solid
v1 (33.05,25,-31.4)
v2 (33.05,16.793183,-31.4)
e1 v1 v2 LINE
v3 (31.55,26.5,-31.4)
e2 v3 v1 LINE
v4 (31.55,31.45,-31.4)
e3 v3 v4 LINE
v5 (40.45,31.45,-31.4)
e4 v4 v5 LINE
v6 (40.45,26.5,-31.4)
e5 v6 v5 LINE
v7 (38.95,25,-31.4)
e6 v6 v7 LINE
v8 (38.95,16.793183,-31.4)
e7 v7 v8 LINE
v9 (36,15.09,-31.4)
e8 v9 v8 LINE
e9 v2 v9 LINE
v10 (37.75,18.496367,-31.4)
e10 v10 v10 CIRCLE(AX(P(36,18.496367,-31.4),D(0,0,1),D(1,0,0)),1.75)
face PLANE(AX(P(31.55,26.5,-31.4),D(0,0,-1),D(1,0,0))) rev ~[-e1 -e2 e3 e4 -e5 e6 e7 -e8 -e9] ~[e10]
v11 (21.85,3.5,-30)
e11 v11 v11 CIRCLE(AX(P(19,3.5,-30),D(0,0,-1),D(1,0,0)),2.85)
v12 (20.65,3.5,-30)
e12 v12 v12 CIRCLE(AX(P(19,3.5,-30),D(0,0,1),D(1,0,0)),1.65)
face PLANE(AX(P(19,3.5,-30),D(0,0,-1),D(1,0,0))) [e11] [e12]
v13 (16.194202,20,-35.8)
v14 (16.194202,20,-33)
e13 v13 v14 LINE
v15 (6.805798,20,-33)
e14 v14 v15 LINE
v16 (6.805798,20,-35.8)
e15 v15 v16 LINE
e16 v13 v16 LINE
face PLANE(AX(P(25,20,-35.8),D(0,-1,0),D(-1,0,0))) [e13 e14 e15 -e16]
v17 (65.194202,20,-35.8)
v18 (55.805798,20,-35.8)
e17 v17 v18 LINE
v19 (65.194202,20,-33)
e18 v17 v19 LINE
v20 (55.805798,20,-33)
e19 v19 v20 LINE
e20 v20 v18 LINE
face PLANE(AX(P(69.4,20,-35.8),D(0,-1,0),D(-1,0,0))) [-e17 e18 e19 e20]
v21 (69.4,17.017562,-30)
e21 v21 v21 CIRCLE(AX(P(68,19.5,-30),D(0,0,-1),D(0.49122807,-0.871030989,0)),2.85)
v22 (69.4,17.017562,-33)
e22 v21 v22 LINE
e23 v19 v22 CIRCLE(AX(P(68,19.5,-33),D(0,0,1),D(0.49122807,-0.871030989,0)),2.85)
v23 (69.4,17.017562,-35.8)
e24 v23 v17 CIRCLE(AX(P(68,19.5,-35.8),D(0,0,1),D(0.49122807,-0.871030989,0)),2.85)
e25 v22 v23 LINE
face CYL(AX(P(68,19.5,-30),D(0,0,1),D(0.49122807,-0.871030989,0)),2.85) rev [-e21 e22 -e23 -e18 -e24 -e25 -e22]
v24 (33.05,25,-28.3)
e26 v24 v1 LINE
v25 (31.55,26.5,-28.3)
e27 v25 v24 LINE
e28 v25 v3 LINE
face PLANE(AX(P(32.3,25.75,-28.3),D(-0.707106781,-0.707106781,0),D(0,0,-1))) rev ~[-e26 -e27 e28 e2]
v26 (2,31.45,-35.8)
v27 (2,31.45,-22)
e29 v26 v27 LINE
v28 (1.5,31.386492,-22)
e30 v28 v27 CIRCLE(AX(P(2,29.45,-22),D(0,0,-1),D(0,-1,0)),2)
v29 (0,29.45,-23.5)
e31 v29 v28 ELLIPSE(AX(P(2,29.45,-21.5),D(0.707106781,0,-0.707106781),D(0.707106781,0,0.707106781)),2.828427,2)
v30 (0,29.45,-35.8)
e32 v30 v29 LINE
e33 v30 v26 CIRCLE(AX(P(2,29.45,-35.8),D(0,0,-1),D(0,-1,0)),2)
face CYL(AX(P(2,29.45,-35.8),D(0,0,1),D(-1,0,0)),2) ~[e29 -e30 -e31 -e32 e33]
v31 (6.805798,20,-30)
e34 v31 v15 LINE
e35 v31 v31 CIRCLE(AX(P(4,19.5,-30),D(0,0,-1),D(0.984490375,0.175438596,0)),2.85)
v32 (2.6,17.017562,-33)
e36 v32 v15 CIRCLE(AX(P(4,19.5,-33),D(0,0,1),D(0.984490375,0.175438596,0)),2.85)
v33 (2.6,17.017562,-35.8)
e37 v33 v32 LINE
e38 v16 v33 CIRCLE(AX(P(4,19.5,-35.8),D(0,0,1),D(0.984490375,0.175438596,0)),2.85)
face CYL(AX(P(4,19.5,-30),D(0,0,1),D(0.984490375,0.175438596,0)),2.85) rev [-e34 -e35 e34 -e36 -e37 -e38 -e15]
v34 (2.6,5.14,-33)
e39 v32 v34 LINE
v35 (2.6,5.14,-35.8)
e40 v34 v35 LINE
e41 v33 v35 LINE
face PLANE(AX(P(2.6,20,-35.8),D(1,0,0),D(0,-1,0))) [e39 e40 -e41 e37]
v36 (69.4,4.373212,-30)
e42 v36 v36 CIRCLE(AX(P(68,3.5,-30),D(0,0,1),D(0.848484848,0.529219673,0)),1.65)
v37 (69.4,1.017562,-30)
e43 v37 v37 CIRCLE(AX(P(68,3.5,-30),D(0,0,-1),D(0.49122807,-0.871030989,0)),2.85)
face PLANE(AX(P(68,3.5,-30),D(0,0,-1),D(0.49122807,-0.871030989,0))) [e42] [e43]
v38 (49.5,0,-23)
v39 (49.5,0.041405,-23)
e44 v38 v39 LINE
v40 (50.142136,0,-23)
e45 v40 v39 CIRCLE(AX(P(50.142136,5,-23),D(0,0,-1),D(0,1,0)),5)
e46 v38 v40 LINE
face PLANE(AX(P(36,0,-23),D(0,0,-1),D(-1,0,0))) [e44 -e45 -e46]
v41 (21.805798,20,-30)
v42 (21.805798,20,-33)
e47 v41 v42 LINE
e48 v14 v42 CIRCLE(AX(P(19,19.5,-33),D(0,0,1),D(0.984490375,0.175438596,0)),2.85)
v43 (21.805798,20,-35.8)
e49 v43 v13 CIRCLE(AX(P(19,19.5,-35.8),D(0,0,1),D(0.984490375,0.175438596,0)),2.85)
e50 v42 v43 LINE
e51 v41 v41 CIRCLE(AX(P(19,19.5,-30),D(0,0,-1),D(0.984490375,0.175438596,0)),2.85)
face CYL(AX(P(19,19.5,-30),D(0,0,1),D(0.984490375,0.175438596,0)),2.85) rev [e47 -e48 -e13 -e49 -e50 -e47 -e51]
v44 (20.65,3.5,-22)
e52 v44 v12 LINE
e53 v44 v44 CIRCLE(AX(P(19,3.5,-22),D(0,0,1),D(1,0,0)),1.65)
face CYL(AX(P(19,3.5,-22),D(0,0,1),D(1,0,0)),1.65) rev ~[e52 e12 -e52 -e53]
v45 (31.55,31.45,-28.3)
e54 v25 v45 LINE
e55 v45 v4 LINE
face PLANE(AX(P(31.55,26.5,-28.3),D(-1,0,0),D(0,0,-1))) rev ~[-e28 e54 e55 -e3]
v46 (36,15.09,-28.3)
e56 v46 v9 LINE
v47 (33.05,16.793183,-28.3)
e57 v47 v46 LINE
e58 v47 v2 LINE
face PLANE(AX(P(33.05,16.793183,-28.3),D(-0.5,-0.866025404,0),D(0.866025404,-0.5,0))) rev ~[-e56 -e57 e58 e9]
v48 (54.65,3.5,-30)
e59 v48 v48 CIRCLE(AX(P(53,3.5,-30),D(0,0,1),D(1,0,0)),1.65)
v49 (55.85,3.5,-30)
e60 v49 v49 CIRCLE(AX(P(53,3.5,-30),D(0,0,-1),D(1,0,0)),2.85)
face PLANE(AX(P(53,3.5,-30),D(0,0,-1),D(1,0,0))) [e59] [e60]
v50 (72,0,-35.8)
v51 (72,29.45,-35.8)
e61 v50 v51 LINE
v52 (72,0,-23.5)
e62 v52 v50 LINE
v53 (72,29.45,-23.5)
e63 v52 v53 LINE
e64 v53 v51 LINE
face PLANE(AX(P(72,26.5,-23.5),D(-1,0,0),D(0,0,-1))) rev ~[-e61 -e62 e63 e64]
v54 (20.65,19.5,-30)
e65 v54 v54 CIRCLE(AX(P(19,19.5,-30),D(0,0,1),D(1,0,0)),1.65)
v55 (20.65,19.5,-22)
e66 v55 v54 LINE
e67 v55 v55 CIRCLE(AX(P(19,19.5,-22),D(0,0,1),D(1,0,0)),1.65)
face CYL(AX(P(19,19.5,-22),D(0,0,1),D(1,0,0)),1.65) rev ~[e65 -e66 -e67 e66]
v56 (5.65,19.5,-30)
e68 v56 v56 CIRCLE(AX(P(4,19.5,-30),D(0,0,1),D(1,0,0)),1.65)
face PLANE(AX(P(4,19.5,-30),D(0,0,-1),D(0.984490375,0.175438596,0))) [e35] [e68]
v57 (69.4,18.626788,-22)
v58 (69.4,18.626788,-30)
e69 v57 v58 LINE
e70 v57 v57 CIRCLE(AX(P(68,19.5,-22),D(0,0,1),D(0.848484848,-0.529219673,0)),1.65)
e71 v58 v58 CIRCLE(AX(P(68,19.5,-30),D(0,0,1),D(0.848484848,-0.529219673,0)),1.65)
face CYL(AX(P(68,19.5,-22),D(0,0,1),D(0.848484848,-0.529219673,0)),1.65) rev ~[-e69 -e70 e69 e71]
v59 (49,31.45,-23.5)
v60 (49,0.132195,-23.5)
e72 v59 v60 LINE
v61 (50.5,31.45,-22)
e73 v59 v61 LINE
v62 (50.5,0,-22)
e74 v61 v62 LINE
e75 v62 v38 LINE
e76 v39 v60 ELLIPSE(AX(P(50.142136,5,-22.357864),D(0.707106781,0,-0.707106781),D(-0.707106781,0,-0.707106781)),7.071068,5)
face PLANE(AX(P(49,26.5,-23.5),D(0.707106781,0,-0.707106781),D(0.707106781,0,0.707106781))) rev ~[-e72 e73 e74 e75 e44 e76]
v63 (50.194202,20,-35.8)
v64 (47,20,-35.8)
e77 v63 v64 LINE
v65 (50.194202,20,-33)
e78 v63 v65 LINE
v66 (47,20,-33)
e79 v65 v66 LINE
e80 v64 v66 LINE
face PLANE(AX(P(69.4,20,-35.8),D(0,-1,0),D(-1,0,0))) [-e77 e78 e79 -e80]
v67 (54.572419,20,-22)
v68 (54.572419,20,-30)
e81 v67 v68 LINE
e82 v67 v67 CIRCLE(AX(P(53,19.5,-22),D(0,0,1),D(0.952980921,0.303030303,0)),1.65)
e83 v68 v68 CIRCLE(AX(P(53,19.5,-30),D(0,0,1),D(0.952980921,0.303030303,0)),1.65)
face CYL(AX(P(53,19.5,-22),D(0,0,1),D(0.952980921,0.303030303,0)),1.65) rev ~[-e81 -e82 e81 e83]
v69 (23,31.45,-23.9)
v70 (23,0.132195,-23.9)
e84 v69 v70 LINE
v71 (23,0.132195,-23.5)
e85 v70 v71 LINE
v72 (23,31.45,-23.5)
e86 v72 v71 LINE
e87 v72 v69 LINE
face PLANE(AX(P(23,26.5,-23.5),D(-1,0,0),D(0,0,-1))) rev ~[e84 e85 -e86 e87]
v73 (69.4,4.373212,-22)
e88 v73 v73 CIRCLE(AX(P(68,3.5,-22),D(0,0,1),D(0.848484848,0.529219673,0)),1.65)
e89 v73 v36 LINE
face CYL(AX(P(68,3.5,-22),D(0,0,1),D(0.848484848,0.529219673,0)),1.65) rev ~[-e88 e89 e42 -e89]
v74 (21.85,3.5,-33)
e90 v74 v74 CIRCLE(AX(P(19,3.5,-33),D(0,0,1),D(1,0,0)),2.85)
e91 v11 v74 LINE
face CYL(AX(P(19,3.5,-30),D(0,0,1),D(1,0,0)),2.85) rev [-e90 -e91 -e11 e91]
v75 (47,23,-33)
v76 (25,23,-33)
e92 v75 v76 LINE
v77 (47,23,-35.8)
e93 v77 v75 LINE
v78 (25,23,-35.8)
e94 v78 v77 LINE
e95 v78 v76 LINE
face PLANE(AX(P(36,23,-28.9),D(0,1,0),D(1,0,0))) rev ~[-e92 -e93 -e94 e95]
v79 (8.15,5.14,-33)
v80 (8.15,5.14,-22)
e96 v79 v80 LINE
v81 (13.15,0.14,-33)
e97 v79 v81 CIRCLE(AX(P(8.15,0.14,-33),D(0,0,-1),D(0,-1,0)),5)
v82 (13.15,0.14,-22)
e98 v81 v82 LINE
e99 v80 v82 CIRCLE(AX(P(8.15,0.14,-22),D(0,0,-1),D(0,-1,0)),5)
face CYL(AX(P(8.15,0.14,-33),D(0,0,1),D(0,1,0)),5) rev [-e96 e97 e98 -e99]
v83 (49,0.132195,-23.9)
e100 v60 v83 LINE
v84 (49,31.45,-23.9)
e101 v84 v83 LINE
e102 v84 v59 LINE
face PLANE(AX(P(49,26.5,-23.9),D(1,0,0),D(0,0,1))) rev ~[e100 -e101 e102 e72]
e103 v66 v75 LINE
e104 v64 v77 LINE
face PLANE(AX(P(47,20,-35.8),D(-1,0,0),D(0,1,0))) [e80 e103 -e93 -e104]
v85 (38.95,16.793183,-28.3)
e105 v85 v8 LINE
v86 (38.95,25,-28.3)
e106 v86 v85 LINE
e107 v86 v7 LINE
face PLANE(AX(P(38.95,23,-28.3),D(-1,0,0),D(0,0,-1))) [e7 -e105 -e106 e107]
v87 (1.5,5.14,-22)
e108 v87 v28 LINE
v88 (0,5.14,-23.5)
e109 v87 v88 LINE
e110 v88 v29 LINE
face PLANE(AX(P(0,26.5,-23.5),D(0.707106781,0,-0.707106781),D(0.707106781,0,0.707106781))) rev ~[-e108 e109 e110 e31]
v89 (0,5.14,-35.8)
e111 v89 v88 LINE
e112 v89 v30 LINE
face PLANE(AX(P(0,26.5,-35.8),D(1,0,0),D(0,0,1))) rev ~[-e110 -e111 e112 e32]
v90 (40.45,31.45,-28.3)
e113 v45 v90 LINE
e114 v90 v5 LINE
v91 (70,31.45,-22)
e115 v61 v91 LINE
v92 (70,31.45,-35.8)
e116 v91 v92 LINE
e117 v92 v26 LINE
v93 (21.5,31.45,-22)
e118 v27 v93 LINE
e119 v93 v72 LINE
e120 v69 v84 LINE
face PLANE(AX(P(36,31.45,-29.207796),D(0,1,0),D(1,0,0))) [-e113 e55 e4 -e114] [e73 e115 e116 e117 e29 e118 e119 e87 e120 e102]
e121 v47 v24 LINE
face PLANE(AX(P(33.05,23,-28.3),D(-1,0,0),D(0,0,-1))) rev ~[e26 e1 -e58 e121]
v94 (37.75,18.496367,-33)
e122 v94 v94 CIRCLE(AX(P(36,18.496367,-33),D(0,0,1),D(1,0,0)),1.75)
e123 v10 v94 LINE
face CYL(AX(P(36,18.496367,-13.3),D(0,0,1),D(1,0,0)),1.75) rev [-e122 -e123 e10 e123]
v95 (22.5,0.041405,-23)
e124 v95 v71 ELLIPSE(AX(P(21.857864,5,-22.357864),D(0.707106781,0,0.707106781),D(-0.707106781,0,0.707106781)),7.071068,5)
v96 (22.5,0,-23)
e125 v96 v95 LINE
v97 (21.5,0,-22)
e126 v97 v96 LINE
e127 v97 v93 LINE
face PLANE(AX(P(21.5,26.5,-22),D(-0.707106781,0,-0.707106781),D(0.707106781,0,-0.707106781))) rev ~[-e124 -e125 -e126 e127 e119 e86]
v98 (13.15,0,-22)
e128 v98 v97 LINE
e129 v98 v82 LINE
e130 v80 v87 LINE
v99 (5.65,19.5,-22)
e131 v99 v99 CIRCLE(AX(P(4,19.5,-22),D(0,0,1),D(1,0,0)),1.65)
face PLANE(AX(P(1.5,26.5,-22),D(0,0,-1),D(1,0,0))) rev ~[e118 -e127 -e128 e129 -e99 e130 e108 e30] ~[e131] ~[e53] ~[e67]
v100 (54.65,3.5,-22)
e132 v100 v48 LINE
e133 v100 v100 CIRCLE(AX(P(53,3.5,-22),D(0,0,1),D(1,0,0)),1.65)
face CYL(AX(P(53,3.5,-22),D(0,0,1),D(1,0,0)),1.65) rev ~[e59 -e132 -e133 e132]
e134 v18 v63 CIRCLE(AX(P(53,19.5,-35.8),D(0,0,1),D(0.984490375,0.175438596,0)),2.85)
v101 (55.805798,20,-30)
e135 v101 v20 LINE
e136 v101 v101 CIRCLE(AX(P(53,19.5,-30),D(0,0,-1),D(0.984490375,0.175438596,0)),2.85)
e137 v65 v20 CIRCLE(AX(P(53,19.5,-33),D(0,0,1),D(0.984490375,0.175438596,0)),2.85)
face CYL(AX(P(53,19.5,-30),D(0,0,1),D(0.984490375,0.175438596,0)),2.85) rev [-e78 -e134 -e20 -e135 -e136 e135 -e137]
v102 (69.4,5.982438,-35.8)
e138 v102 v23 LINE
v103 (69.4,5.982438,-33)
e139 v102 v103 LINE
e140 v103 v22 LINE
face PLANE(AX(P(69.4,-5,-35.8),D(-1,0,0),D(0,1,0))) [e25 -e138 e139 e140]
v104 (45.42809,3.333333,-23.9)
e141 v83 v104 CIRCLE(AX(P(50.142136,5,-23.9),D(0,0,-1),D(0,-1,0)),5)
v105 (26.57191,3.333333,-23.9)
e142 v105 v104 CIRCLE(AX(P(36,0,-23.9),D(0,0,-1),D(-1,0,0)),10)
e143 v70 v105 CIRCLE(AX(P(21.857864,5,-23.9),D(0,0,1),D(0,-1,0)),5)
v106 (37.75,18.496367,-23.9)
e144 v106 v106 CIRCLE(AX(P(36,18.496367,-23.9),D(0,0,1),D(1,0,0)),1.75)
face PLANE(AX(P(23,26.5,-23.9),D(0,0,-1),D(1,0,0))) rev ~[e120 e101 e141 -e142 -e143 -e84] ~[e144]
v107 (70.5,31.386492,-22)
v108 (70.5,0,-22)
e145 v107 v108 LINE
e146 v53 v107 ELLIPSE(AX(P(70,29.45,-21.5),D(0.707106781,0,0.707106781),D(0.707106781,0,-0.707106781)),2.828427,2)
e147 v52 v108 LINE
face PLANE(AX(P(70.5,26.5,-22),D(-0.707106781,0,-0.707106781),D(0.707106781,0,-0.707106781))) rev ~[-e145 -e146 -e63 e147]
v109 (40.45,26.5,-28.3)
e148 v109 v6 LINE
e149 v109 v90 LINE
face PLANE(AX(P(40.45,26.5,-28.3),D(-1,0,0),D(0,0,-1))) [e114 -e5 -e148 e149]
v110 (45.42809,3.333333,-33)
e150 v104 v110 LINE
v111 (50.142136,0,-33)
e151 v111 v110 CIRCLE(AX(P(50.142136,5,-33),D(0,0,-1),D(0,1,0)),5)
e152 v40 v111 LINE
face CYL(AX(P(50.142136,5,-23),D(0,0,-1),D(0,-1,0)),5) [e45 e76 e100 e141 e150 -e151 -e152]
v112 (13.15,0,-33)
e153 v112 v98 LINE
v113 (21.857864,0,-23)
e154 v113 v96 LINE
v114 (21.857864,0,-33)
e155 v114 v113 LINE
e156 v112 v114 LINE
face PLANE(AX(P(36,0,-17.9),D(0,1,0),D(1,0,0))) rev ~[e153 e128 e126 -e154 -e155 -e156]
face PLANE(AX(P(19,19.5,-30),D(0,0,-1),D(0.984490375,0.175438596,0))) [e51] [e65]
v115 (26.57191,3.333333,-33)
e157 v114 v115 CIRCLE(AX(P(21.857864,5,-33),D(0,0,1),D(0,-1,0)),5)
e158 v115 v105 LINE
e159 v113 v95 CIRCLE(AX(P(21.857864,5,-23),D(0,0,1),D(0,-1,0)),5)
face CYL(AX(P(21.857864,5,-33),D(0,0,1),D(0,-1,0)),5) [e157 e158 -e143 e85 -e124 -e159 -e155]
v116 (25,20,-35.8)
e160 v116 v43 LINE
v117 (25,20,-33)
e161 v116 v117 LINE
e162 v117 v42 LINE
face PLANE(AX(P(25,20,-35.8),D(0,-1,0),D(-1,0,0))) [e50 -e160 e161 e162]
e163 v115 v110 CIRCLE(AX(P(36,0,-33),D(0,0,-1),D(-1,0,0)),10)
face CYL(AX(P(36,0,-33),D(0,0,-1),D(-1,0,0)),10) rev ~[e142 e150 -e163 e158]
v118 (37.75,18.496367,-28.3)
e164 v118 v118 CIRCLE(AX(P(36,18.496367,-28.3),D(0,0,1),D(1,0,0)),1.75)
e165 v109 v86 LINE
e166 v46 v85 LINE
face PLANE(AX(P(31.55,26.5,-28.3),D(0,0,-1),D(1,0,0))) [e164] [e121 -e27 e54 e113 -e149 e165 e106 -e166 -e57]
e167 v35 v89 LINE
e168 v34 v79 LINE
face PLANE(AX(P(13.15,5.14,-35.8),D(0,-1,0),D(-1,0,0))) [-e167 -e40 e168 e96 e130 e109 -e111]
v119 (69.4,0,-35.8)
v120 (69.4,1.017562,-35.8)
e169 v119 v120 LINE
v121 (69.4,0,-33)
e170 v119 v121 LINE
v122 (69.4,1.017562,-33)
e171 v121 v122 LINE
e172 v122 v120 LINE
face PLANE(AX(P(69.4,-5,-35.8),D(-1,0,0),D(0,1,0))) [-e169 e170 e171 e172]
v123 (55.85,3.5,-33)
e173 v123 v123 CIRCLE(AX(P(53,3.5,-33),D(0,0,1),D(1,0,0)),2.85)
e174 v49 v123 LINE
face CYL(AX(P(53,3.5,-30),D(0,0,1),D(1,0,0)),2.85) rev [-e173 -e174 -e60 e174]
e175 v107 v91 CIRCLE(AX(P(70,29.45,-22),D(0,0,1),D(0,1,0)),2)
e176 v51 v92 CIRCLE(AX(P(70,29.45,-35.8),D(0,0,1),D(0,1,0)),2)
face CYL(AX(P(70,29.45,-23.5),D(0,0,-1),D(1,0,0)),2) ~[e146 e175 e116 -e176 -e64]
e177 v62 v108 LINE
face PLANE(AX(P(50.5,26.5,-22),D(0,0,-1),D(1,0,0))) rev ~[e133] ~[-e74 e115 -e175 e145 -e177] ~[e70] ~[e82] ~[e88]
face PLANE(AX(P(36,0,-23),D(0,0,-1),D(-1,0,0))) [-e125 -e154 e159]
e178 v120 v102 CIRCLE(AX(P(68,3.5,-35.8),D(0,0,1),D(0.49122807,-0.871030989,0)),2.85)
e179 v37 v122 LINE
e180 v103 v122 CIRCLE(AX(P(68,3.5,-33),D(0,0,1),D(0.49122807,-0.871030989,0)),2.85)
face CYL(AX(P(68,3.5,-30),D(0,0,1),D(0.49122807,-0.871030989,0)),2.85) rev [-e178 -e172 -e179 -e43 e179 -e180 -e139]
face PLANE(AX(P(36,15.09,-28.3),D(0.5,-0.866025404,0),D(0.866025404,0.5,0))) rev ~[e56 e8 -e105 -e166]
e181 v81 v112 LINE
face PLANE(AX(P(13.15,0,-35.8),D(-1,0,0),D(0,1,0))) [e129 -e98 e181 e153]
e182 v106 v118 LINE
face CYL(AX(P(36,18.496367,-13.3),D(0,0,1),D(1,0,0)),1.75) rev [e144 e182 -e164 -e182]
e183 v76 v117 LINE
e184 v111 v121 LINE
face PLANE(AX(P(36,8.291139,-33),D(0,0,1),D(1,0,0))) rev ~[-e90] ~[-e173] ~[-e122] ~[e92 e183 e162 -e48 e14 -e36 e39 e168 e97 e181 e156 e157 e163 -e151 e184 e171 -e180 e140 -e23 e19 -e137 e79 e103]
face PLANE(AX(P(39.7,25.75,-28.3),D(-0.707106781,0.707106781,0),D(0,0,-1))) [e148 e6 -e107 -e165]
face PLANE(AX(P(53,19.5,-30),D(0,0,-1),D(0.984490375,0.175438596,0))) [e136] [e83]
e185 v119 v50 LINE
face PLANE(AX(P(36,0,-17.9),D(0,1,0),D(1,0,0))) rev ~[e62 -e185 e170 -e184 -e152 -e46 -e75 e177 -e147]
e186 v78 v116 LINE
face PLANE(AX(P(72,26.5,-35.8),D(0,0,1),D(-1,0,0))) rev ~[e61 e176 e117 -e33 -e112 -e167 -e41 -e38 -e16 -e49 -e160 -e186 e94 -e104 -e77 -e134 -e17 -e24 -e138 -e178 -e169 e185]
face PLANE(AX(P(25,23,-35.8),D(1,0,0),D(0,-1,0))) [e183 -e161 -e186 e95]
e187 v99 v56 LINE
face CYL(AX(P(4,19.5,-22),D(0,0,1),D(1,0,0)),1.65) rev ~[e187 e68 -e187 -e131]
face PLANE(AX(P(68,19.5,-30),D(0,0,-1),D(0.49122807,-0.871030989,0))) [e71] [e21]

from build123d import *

# Parameters (mm, degrees)
CROQUIS1_W                  = 72
CROQUIS1_H                  = 35.8
SALIENTE_EXTRUIR1_DEPTH     = 23
CORTAR_EXTRUIR2_DEPTH       = 2.8
CROQUIS3_W                  = 5.9
CROQUIS3_H                  = 3.1
CORTAR_EXTRUIR3_DEPTH       = 7.91
SALIENTE_EXTRUIR3_DEPTH     = 3.1
CROQUIS7_W                  = 72
CROQUIS7_H                  = 22
CORTAR_EXTRUIR6_DEPTH       = 37.91
CORTAR_EXTRUIR8_DEPTH       = 15
CORTAR_EXTRUIR8_DEPTH_BACK  = 15
CROQUIS9_R                  = 1.75
CROQUIS11_R                 = 10
CORTAR_EXTRUIR10_DEPTH      = 10
REDONDEO1_R                 = 5
CROQUIS12_W                 = 72
CROQUIS12_H                 = 13.8
CROQUIS12_W_2               = 5.9
CROQUIS12_H_2               = 3.1
SALIENTE_EXTRUIR4_DEPTH     = 3.5
CROQUIS13_R                 = 1.65
CORTAR_EXTRUIR11_DEPTH      = 33.5
CORTAR_EXTRUIR12_DEPTH      = 33.5
CORTAR_EXTRUIR12_DEPTH_BACK = 3
CROQUIS14_R                 = 2.85
CROQUIS15_W                 = 26
CROQUIS15_H                 = 1.9
CORTAR_EXTRUIR13_DEPTH      = 43
CHAFL_N1_SIZE               = 1.5
CHAFL_N2_SIZE               = 1.5
CROQUIS16_W                 = 13.15
CROQUIS16_H                 = 5.14
CORTAR_EXTRUIR14_DEPTH      = 20
REDONDEO3_R                 = 5
CROQUIS17_W                 = 8.9
CROQUIS17_H                 = 3.1
SALIENTE_EXTRUIR5_DEPTH     = 4.95
REDONDEO4_R                 = 2


with BuildPart() as part:
    # Croquis1 → Saliente-Extruir1 (new body)
    with BuildSketch(Plane(origin=(0, 0, 0), x_dir=(1, 0, 0), z_dir=(0, 1, 0))):
        with Locations((36, 17.9)):
            Rectangle(CROQUIS1_W, CROQUIS1_H)
    extrude(amount=SALIENTE_EXTRUIR1_DEPTH)

    # Croquis2 → Cortar-Extruir2 (cut)
    with BuildSketch(Plane(origin=(0, 0, -35.8), x_dir=(-1, 0, 0), z_dir=(0, 0, -1))):
        Polygon((-69.4, 20), (-47, 20), (-47, 23), (-25, 23), (-25, 20), (-2.6, 20), (-2.6, -5), (-69.4, -5), align=None)
    extrude(amount=-CORTAR_EXTRUIR2_DEPTH, mode=Mode.SUBTRACT)

    # Croquis3 → Cortar-Extruir3 (cut)
    with BuildSketch(Plane(origin=(0, 23, 0), x_dir=(1, 0, 0), z_dir=(0, 1, 0))):
        with Locations((36, 29.85)):
            Rectangle(CROQUIS3_W, CROQUIS3_H)
    extrude(amount=-CORTAR_EXTRUIR3_DEPTH, mode=Mode.SUBTRACT)

    # Croquis4 → Saliente-Extruir3 (add)
    with BuildSketch(Plane(origin=(0, 0, -28.3), x_dir=(-1, 0, 0), z_dir=(0, 0, -1))):
        Polygon((-33.05, 16.793183294), (-36, 15.09), (-33.05, 15.09), align=None)
        Polygon((-36, 15.09), (-38.95, 16.793183294), (-38.95, 15.09), align=None)
    extrude(amount=SALIENTE_EXTRUIR3_DEPTH)

    # Croquis7 → Cortar-Extruir6 (cut)
    with BuildSketch(Plane(origin=(0, 23, 0), x_dir=(1, 0, 0), z_dir=(0, 1, 0))):
        with Locations((36, 11)):
            Rectangle(CROQUIS7_W, CROQUIS7_H)
    extrude(amount=-CORTAR_EXTRUIR6_DEPTH, mode=Mode.SUBTRACT)

    # Croquis9 → Cortar-Extruir8 (cut, two sides: drawn at the far end of the back side and taken through both)
    with BuildSketch(Plane(origin=(0, 0, -28.3), x_dir=(-1, 0, 0), z_dir=(0, 0, -1)).offset(-CORTAR_EXTRUIR8_DEPTH_BACK)):
        with Locations(Location((-36, 18.496366588, 0), (0, 0, 180))):
            Circle(CROQUIS9_R)
    extrude(amount=CORTAR_EXTRUIR8_DEPTH + CORTAR_EXTRUIR8_DEPTH_BACK, mode=Mode.SUBTRACT)

    # Croquis11 → Cortar-Extruir10 (cut)
    with BuildSketch(Plane(origin=(0, 0, -33), x_dir=(-1, 0, 0), z_dir=(0, 0, -1))):
        with Locations((-36, 0)):
            Circle(CROQUIS11_R)
    extrude(amount=-CORTAR_EXTRUIR10_DEPTH, mode=Mode.SUBTRACT)

    # Redondeo1
    redondeo1_edges = [part.edges().sort_by_distance(p)[0] for p in [
        (26, 0, -28),
        (46, 0, -28),
    ]]
    fillet(redondeo1_edges, radius=REDONDEO1_R)

    # Croquis12 → Saliente-Extruir4 (add)
    with BuildSketch(Plane(origin=(0, 23, 0), x_dir=(1, 0, 0), z_dir=(0, 1, 0))):
        with Locations((36, 28.9)):
            Rectangle(CROQUIS12_W, CROQUIS12_H)
        with Locations((36, 29.85)):
            Rectangle(CROQUIS12_W_2, CROQUIS12_H_2, mode=Mode.SUBTRACT)
    extrude(amount=SALIENTE_EXTRUIR4_DEPTH)

    # Croquis13 → Cortar-Extruir11 (cut)
    with BuildSketch(Plane.XY.offset(-22)):
        with Locations((19, 3.5)):
            Circle(CROQUIS13_R)
        with Locations((19, 19.5)):
            Circle(CROQUIS13_R)
        with Locations((4, 19.5)):
            Circle(CROQUIS13_R)
        with Locations((53, 3.5)):
            Circle(CROQUIS13_R)
        with Locations(Location((68, 3.5, 0), (0, 0, 31.9527464))):
            Circle(CROQUIS13_R)
        with Locations(Location((68, 19.5, 0), (0, 0, 328.0472536))):
            Circle(CROQUIS13_R)
        with Locations(Location((53, 19.5, 0), (0, 0, 17.639701394))):
            Circle(CROQUIS13_R)
    extrude(amount=-CORTAR_EXTRUIR11_DEPTH, mode=Mode.SUBTRACT)

    # Croquis14 → Cortar-Extruir12 (cut, two sides: drawn at the far end of the back side and taken through both)
    with BuildSketch(Plane(origin=(0, 0, -33), x_dir=(-1, 0, 0), z_dir=(0, 0, -1)).offset(-CORTAR_EXTRUIR12_DEPTH_BACK)):
        with Locations(Location((-53, 19.5, 0), (0, 0, 169.895817284))):
            Circle(CROQUIS14_R)
        with Locations(Location((-53, 3.5, 0), (0, 0, 180))):
            Circle(CROQUIS14_R)
        with Locations(Location((-68, 3.5, 0), (0, 0, 240.578668933))):
            Circle(CROQUIS14_R)
        with Locations(Location((-68, 19.5, 0), (0, 0, 240.578668933))):
            Circle(CROQUIS14_R)
        with Locations(Location((-19, 3.5, 0), (0, 0, 180))):
            Circle(CROQUIS14_R)
        with Locations(Location((-19, 19.5, 0), (0, 0, 169.895817284))):
            Circle(CROQUIS14_R)
        with Locations(Location((-4, 19.5, 0), (0, 0, 169.895817284))):
            Circle(CROQUIS14_R)
    extrude(amount=CORTAR_EXTRUIR12_DEPTH + CORTAR_EXTRUIR12_DEPTH_BACK, mode=Mode.SUBTRACT)

    # Croquis15 → Cortar-Extruir13 (cut)
    with BuildSketch(Plane(origin=(0, 26.5, 0), x_dir=(1, 0, 0), z_dir=(0, 1, 0))):
        with Locations((36, 22.95)):
            Rectangle(CROQUIS15_W, CROQUIS15_H)
    extrude(amount=-CORTAR_EXTRUIR13_DEPTH, mode=Mode.SUBTRACT)

    # Chaflán1
    chafl_n1_edges = [part.edges().sort_by_distance(p)[0] for p in [
        (49, 13.25, -22),
        (23, 13.25, -22),
        (72, 13.25, -22),
        (0, 13.25, -22),
    ]]
    chamfer(chafl_n1_edges, length=CHAFL_N1_SIZE)

    # Chaflán2
    chafl_n2_edges = [part.edges().sort_by_distance(p)[0] for p in [
        (33.05, 26.5, -29.85),
        (38.95, 26.5, -29.85),
    ]]
    chamfer(chafl_n2_edges, length=CHAFL_N2_SIZE)

    # Croquis16 → Cortar-Extruir14 (cut)
    with BuildSketch(Plane(origin=(0, 0, -35.8), x_dir=(-1, 0, 0), z_dir=(0, 0, -1))):
        with Locations((-6.575, 2.57)):
            Rectangle(CROQUIS16_W, CROQUIS16_H)
    extrude(amount=-CORTAR_EXTRUIR14_DEPTH, mode=Mode.SUBTRACT)

    # Redondeo3
    redondeo3_edges = [part.edges().sort_by_distance(p)[0] for p in [
        (13.15, 5.14, -27.5),
    ]]
    fillet(redondeo3_edges, radius=REDONDEO3_R)

    # Croquis17 → Saliente-Extruir5 (add)
    with BuildSketch(Plane(origin=(0, 26.5, 0), x_dir=(1, 0, 0), z_dir=(0, 1, 0))):
        Polygon((70.5, 22), (72, 23.5), (72, 35.8), (0, 35.8), (0, 23.5), (1.5, 22), (21.5, 22), (23, 23.5), (23, 23.9), (49, 23.9), (49, 23.5), (50.5, 22), align=None)
        with Locations((36, 29.85)):
            Rectangle(CROQUIS17_W, CROQUIS17_H, mode=Mode.SUBTRACT)
    extrude(amount=SALIENTE_EXTRUIR5_DEPTH)

    # Redondeo4
    redondeo4_edges = [part.edges().sort_by_distance(p)[0] for p in [
        (72, 31.45, -29.65),
        (0, 31.45, -29.65),
    ]]
    fillet(redondeo4_edges, radius=REDONDEO4_R)


solid = part.part
